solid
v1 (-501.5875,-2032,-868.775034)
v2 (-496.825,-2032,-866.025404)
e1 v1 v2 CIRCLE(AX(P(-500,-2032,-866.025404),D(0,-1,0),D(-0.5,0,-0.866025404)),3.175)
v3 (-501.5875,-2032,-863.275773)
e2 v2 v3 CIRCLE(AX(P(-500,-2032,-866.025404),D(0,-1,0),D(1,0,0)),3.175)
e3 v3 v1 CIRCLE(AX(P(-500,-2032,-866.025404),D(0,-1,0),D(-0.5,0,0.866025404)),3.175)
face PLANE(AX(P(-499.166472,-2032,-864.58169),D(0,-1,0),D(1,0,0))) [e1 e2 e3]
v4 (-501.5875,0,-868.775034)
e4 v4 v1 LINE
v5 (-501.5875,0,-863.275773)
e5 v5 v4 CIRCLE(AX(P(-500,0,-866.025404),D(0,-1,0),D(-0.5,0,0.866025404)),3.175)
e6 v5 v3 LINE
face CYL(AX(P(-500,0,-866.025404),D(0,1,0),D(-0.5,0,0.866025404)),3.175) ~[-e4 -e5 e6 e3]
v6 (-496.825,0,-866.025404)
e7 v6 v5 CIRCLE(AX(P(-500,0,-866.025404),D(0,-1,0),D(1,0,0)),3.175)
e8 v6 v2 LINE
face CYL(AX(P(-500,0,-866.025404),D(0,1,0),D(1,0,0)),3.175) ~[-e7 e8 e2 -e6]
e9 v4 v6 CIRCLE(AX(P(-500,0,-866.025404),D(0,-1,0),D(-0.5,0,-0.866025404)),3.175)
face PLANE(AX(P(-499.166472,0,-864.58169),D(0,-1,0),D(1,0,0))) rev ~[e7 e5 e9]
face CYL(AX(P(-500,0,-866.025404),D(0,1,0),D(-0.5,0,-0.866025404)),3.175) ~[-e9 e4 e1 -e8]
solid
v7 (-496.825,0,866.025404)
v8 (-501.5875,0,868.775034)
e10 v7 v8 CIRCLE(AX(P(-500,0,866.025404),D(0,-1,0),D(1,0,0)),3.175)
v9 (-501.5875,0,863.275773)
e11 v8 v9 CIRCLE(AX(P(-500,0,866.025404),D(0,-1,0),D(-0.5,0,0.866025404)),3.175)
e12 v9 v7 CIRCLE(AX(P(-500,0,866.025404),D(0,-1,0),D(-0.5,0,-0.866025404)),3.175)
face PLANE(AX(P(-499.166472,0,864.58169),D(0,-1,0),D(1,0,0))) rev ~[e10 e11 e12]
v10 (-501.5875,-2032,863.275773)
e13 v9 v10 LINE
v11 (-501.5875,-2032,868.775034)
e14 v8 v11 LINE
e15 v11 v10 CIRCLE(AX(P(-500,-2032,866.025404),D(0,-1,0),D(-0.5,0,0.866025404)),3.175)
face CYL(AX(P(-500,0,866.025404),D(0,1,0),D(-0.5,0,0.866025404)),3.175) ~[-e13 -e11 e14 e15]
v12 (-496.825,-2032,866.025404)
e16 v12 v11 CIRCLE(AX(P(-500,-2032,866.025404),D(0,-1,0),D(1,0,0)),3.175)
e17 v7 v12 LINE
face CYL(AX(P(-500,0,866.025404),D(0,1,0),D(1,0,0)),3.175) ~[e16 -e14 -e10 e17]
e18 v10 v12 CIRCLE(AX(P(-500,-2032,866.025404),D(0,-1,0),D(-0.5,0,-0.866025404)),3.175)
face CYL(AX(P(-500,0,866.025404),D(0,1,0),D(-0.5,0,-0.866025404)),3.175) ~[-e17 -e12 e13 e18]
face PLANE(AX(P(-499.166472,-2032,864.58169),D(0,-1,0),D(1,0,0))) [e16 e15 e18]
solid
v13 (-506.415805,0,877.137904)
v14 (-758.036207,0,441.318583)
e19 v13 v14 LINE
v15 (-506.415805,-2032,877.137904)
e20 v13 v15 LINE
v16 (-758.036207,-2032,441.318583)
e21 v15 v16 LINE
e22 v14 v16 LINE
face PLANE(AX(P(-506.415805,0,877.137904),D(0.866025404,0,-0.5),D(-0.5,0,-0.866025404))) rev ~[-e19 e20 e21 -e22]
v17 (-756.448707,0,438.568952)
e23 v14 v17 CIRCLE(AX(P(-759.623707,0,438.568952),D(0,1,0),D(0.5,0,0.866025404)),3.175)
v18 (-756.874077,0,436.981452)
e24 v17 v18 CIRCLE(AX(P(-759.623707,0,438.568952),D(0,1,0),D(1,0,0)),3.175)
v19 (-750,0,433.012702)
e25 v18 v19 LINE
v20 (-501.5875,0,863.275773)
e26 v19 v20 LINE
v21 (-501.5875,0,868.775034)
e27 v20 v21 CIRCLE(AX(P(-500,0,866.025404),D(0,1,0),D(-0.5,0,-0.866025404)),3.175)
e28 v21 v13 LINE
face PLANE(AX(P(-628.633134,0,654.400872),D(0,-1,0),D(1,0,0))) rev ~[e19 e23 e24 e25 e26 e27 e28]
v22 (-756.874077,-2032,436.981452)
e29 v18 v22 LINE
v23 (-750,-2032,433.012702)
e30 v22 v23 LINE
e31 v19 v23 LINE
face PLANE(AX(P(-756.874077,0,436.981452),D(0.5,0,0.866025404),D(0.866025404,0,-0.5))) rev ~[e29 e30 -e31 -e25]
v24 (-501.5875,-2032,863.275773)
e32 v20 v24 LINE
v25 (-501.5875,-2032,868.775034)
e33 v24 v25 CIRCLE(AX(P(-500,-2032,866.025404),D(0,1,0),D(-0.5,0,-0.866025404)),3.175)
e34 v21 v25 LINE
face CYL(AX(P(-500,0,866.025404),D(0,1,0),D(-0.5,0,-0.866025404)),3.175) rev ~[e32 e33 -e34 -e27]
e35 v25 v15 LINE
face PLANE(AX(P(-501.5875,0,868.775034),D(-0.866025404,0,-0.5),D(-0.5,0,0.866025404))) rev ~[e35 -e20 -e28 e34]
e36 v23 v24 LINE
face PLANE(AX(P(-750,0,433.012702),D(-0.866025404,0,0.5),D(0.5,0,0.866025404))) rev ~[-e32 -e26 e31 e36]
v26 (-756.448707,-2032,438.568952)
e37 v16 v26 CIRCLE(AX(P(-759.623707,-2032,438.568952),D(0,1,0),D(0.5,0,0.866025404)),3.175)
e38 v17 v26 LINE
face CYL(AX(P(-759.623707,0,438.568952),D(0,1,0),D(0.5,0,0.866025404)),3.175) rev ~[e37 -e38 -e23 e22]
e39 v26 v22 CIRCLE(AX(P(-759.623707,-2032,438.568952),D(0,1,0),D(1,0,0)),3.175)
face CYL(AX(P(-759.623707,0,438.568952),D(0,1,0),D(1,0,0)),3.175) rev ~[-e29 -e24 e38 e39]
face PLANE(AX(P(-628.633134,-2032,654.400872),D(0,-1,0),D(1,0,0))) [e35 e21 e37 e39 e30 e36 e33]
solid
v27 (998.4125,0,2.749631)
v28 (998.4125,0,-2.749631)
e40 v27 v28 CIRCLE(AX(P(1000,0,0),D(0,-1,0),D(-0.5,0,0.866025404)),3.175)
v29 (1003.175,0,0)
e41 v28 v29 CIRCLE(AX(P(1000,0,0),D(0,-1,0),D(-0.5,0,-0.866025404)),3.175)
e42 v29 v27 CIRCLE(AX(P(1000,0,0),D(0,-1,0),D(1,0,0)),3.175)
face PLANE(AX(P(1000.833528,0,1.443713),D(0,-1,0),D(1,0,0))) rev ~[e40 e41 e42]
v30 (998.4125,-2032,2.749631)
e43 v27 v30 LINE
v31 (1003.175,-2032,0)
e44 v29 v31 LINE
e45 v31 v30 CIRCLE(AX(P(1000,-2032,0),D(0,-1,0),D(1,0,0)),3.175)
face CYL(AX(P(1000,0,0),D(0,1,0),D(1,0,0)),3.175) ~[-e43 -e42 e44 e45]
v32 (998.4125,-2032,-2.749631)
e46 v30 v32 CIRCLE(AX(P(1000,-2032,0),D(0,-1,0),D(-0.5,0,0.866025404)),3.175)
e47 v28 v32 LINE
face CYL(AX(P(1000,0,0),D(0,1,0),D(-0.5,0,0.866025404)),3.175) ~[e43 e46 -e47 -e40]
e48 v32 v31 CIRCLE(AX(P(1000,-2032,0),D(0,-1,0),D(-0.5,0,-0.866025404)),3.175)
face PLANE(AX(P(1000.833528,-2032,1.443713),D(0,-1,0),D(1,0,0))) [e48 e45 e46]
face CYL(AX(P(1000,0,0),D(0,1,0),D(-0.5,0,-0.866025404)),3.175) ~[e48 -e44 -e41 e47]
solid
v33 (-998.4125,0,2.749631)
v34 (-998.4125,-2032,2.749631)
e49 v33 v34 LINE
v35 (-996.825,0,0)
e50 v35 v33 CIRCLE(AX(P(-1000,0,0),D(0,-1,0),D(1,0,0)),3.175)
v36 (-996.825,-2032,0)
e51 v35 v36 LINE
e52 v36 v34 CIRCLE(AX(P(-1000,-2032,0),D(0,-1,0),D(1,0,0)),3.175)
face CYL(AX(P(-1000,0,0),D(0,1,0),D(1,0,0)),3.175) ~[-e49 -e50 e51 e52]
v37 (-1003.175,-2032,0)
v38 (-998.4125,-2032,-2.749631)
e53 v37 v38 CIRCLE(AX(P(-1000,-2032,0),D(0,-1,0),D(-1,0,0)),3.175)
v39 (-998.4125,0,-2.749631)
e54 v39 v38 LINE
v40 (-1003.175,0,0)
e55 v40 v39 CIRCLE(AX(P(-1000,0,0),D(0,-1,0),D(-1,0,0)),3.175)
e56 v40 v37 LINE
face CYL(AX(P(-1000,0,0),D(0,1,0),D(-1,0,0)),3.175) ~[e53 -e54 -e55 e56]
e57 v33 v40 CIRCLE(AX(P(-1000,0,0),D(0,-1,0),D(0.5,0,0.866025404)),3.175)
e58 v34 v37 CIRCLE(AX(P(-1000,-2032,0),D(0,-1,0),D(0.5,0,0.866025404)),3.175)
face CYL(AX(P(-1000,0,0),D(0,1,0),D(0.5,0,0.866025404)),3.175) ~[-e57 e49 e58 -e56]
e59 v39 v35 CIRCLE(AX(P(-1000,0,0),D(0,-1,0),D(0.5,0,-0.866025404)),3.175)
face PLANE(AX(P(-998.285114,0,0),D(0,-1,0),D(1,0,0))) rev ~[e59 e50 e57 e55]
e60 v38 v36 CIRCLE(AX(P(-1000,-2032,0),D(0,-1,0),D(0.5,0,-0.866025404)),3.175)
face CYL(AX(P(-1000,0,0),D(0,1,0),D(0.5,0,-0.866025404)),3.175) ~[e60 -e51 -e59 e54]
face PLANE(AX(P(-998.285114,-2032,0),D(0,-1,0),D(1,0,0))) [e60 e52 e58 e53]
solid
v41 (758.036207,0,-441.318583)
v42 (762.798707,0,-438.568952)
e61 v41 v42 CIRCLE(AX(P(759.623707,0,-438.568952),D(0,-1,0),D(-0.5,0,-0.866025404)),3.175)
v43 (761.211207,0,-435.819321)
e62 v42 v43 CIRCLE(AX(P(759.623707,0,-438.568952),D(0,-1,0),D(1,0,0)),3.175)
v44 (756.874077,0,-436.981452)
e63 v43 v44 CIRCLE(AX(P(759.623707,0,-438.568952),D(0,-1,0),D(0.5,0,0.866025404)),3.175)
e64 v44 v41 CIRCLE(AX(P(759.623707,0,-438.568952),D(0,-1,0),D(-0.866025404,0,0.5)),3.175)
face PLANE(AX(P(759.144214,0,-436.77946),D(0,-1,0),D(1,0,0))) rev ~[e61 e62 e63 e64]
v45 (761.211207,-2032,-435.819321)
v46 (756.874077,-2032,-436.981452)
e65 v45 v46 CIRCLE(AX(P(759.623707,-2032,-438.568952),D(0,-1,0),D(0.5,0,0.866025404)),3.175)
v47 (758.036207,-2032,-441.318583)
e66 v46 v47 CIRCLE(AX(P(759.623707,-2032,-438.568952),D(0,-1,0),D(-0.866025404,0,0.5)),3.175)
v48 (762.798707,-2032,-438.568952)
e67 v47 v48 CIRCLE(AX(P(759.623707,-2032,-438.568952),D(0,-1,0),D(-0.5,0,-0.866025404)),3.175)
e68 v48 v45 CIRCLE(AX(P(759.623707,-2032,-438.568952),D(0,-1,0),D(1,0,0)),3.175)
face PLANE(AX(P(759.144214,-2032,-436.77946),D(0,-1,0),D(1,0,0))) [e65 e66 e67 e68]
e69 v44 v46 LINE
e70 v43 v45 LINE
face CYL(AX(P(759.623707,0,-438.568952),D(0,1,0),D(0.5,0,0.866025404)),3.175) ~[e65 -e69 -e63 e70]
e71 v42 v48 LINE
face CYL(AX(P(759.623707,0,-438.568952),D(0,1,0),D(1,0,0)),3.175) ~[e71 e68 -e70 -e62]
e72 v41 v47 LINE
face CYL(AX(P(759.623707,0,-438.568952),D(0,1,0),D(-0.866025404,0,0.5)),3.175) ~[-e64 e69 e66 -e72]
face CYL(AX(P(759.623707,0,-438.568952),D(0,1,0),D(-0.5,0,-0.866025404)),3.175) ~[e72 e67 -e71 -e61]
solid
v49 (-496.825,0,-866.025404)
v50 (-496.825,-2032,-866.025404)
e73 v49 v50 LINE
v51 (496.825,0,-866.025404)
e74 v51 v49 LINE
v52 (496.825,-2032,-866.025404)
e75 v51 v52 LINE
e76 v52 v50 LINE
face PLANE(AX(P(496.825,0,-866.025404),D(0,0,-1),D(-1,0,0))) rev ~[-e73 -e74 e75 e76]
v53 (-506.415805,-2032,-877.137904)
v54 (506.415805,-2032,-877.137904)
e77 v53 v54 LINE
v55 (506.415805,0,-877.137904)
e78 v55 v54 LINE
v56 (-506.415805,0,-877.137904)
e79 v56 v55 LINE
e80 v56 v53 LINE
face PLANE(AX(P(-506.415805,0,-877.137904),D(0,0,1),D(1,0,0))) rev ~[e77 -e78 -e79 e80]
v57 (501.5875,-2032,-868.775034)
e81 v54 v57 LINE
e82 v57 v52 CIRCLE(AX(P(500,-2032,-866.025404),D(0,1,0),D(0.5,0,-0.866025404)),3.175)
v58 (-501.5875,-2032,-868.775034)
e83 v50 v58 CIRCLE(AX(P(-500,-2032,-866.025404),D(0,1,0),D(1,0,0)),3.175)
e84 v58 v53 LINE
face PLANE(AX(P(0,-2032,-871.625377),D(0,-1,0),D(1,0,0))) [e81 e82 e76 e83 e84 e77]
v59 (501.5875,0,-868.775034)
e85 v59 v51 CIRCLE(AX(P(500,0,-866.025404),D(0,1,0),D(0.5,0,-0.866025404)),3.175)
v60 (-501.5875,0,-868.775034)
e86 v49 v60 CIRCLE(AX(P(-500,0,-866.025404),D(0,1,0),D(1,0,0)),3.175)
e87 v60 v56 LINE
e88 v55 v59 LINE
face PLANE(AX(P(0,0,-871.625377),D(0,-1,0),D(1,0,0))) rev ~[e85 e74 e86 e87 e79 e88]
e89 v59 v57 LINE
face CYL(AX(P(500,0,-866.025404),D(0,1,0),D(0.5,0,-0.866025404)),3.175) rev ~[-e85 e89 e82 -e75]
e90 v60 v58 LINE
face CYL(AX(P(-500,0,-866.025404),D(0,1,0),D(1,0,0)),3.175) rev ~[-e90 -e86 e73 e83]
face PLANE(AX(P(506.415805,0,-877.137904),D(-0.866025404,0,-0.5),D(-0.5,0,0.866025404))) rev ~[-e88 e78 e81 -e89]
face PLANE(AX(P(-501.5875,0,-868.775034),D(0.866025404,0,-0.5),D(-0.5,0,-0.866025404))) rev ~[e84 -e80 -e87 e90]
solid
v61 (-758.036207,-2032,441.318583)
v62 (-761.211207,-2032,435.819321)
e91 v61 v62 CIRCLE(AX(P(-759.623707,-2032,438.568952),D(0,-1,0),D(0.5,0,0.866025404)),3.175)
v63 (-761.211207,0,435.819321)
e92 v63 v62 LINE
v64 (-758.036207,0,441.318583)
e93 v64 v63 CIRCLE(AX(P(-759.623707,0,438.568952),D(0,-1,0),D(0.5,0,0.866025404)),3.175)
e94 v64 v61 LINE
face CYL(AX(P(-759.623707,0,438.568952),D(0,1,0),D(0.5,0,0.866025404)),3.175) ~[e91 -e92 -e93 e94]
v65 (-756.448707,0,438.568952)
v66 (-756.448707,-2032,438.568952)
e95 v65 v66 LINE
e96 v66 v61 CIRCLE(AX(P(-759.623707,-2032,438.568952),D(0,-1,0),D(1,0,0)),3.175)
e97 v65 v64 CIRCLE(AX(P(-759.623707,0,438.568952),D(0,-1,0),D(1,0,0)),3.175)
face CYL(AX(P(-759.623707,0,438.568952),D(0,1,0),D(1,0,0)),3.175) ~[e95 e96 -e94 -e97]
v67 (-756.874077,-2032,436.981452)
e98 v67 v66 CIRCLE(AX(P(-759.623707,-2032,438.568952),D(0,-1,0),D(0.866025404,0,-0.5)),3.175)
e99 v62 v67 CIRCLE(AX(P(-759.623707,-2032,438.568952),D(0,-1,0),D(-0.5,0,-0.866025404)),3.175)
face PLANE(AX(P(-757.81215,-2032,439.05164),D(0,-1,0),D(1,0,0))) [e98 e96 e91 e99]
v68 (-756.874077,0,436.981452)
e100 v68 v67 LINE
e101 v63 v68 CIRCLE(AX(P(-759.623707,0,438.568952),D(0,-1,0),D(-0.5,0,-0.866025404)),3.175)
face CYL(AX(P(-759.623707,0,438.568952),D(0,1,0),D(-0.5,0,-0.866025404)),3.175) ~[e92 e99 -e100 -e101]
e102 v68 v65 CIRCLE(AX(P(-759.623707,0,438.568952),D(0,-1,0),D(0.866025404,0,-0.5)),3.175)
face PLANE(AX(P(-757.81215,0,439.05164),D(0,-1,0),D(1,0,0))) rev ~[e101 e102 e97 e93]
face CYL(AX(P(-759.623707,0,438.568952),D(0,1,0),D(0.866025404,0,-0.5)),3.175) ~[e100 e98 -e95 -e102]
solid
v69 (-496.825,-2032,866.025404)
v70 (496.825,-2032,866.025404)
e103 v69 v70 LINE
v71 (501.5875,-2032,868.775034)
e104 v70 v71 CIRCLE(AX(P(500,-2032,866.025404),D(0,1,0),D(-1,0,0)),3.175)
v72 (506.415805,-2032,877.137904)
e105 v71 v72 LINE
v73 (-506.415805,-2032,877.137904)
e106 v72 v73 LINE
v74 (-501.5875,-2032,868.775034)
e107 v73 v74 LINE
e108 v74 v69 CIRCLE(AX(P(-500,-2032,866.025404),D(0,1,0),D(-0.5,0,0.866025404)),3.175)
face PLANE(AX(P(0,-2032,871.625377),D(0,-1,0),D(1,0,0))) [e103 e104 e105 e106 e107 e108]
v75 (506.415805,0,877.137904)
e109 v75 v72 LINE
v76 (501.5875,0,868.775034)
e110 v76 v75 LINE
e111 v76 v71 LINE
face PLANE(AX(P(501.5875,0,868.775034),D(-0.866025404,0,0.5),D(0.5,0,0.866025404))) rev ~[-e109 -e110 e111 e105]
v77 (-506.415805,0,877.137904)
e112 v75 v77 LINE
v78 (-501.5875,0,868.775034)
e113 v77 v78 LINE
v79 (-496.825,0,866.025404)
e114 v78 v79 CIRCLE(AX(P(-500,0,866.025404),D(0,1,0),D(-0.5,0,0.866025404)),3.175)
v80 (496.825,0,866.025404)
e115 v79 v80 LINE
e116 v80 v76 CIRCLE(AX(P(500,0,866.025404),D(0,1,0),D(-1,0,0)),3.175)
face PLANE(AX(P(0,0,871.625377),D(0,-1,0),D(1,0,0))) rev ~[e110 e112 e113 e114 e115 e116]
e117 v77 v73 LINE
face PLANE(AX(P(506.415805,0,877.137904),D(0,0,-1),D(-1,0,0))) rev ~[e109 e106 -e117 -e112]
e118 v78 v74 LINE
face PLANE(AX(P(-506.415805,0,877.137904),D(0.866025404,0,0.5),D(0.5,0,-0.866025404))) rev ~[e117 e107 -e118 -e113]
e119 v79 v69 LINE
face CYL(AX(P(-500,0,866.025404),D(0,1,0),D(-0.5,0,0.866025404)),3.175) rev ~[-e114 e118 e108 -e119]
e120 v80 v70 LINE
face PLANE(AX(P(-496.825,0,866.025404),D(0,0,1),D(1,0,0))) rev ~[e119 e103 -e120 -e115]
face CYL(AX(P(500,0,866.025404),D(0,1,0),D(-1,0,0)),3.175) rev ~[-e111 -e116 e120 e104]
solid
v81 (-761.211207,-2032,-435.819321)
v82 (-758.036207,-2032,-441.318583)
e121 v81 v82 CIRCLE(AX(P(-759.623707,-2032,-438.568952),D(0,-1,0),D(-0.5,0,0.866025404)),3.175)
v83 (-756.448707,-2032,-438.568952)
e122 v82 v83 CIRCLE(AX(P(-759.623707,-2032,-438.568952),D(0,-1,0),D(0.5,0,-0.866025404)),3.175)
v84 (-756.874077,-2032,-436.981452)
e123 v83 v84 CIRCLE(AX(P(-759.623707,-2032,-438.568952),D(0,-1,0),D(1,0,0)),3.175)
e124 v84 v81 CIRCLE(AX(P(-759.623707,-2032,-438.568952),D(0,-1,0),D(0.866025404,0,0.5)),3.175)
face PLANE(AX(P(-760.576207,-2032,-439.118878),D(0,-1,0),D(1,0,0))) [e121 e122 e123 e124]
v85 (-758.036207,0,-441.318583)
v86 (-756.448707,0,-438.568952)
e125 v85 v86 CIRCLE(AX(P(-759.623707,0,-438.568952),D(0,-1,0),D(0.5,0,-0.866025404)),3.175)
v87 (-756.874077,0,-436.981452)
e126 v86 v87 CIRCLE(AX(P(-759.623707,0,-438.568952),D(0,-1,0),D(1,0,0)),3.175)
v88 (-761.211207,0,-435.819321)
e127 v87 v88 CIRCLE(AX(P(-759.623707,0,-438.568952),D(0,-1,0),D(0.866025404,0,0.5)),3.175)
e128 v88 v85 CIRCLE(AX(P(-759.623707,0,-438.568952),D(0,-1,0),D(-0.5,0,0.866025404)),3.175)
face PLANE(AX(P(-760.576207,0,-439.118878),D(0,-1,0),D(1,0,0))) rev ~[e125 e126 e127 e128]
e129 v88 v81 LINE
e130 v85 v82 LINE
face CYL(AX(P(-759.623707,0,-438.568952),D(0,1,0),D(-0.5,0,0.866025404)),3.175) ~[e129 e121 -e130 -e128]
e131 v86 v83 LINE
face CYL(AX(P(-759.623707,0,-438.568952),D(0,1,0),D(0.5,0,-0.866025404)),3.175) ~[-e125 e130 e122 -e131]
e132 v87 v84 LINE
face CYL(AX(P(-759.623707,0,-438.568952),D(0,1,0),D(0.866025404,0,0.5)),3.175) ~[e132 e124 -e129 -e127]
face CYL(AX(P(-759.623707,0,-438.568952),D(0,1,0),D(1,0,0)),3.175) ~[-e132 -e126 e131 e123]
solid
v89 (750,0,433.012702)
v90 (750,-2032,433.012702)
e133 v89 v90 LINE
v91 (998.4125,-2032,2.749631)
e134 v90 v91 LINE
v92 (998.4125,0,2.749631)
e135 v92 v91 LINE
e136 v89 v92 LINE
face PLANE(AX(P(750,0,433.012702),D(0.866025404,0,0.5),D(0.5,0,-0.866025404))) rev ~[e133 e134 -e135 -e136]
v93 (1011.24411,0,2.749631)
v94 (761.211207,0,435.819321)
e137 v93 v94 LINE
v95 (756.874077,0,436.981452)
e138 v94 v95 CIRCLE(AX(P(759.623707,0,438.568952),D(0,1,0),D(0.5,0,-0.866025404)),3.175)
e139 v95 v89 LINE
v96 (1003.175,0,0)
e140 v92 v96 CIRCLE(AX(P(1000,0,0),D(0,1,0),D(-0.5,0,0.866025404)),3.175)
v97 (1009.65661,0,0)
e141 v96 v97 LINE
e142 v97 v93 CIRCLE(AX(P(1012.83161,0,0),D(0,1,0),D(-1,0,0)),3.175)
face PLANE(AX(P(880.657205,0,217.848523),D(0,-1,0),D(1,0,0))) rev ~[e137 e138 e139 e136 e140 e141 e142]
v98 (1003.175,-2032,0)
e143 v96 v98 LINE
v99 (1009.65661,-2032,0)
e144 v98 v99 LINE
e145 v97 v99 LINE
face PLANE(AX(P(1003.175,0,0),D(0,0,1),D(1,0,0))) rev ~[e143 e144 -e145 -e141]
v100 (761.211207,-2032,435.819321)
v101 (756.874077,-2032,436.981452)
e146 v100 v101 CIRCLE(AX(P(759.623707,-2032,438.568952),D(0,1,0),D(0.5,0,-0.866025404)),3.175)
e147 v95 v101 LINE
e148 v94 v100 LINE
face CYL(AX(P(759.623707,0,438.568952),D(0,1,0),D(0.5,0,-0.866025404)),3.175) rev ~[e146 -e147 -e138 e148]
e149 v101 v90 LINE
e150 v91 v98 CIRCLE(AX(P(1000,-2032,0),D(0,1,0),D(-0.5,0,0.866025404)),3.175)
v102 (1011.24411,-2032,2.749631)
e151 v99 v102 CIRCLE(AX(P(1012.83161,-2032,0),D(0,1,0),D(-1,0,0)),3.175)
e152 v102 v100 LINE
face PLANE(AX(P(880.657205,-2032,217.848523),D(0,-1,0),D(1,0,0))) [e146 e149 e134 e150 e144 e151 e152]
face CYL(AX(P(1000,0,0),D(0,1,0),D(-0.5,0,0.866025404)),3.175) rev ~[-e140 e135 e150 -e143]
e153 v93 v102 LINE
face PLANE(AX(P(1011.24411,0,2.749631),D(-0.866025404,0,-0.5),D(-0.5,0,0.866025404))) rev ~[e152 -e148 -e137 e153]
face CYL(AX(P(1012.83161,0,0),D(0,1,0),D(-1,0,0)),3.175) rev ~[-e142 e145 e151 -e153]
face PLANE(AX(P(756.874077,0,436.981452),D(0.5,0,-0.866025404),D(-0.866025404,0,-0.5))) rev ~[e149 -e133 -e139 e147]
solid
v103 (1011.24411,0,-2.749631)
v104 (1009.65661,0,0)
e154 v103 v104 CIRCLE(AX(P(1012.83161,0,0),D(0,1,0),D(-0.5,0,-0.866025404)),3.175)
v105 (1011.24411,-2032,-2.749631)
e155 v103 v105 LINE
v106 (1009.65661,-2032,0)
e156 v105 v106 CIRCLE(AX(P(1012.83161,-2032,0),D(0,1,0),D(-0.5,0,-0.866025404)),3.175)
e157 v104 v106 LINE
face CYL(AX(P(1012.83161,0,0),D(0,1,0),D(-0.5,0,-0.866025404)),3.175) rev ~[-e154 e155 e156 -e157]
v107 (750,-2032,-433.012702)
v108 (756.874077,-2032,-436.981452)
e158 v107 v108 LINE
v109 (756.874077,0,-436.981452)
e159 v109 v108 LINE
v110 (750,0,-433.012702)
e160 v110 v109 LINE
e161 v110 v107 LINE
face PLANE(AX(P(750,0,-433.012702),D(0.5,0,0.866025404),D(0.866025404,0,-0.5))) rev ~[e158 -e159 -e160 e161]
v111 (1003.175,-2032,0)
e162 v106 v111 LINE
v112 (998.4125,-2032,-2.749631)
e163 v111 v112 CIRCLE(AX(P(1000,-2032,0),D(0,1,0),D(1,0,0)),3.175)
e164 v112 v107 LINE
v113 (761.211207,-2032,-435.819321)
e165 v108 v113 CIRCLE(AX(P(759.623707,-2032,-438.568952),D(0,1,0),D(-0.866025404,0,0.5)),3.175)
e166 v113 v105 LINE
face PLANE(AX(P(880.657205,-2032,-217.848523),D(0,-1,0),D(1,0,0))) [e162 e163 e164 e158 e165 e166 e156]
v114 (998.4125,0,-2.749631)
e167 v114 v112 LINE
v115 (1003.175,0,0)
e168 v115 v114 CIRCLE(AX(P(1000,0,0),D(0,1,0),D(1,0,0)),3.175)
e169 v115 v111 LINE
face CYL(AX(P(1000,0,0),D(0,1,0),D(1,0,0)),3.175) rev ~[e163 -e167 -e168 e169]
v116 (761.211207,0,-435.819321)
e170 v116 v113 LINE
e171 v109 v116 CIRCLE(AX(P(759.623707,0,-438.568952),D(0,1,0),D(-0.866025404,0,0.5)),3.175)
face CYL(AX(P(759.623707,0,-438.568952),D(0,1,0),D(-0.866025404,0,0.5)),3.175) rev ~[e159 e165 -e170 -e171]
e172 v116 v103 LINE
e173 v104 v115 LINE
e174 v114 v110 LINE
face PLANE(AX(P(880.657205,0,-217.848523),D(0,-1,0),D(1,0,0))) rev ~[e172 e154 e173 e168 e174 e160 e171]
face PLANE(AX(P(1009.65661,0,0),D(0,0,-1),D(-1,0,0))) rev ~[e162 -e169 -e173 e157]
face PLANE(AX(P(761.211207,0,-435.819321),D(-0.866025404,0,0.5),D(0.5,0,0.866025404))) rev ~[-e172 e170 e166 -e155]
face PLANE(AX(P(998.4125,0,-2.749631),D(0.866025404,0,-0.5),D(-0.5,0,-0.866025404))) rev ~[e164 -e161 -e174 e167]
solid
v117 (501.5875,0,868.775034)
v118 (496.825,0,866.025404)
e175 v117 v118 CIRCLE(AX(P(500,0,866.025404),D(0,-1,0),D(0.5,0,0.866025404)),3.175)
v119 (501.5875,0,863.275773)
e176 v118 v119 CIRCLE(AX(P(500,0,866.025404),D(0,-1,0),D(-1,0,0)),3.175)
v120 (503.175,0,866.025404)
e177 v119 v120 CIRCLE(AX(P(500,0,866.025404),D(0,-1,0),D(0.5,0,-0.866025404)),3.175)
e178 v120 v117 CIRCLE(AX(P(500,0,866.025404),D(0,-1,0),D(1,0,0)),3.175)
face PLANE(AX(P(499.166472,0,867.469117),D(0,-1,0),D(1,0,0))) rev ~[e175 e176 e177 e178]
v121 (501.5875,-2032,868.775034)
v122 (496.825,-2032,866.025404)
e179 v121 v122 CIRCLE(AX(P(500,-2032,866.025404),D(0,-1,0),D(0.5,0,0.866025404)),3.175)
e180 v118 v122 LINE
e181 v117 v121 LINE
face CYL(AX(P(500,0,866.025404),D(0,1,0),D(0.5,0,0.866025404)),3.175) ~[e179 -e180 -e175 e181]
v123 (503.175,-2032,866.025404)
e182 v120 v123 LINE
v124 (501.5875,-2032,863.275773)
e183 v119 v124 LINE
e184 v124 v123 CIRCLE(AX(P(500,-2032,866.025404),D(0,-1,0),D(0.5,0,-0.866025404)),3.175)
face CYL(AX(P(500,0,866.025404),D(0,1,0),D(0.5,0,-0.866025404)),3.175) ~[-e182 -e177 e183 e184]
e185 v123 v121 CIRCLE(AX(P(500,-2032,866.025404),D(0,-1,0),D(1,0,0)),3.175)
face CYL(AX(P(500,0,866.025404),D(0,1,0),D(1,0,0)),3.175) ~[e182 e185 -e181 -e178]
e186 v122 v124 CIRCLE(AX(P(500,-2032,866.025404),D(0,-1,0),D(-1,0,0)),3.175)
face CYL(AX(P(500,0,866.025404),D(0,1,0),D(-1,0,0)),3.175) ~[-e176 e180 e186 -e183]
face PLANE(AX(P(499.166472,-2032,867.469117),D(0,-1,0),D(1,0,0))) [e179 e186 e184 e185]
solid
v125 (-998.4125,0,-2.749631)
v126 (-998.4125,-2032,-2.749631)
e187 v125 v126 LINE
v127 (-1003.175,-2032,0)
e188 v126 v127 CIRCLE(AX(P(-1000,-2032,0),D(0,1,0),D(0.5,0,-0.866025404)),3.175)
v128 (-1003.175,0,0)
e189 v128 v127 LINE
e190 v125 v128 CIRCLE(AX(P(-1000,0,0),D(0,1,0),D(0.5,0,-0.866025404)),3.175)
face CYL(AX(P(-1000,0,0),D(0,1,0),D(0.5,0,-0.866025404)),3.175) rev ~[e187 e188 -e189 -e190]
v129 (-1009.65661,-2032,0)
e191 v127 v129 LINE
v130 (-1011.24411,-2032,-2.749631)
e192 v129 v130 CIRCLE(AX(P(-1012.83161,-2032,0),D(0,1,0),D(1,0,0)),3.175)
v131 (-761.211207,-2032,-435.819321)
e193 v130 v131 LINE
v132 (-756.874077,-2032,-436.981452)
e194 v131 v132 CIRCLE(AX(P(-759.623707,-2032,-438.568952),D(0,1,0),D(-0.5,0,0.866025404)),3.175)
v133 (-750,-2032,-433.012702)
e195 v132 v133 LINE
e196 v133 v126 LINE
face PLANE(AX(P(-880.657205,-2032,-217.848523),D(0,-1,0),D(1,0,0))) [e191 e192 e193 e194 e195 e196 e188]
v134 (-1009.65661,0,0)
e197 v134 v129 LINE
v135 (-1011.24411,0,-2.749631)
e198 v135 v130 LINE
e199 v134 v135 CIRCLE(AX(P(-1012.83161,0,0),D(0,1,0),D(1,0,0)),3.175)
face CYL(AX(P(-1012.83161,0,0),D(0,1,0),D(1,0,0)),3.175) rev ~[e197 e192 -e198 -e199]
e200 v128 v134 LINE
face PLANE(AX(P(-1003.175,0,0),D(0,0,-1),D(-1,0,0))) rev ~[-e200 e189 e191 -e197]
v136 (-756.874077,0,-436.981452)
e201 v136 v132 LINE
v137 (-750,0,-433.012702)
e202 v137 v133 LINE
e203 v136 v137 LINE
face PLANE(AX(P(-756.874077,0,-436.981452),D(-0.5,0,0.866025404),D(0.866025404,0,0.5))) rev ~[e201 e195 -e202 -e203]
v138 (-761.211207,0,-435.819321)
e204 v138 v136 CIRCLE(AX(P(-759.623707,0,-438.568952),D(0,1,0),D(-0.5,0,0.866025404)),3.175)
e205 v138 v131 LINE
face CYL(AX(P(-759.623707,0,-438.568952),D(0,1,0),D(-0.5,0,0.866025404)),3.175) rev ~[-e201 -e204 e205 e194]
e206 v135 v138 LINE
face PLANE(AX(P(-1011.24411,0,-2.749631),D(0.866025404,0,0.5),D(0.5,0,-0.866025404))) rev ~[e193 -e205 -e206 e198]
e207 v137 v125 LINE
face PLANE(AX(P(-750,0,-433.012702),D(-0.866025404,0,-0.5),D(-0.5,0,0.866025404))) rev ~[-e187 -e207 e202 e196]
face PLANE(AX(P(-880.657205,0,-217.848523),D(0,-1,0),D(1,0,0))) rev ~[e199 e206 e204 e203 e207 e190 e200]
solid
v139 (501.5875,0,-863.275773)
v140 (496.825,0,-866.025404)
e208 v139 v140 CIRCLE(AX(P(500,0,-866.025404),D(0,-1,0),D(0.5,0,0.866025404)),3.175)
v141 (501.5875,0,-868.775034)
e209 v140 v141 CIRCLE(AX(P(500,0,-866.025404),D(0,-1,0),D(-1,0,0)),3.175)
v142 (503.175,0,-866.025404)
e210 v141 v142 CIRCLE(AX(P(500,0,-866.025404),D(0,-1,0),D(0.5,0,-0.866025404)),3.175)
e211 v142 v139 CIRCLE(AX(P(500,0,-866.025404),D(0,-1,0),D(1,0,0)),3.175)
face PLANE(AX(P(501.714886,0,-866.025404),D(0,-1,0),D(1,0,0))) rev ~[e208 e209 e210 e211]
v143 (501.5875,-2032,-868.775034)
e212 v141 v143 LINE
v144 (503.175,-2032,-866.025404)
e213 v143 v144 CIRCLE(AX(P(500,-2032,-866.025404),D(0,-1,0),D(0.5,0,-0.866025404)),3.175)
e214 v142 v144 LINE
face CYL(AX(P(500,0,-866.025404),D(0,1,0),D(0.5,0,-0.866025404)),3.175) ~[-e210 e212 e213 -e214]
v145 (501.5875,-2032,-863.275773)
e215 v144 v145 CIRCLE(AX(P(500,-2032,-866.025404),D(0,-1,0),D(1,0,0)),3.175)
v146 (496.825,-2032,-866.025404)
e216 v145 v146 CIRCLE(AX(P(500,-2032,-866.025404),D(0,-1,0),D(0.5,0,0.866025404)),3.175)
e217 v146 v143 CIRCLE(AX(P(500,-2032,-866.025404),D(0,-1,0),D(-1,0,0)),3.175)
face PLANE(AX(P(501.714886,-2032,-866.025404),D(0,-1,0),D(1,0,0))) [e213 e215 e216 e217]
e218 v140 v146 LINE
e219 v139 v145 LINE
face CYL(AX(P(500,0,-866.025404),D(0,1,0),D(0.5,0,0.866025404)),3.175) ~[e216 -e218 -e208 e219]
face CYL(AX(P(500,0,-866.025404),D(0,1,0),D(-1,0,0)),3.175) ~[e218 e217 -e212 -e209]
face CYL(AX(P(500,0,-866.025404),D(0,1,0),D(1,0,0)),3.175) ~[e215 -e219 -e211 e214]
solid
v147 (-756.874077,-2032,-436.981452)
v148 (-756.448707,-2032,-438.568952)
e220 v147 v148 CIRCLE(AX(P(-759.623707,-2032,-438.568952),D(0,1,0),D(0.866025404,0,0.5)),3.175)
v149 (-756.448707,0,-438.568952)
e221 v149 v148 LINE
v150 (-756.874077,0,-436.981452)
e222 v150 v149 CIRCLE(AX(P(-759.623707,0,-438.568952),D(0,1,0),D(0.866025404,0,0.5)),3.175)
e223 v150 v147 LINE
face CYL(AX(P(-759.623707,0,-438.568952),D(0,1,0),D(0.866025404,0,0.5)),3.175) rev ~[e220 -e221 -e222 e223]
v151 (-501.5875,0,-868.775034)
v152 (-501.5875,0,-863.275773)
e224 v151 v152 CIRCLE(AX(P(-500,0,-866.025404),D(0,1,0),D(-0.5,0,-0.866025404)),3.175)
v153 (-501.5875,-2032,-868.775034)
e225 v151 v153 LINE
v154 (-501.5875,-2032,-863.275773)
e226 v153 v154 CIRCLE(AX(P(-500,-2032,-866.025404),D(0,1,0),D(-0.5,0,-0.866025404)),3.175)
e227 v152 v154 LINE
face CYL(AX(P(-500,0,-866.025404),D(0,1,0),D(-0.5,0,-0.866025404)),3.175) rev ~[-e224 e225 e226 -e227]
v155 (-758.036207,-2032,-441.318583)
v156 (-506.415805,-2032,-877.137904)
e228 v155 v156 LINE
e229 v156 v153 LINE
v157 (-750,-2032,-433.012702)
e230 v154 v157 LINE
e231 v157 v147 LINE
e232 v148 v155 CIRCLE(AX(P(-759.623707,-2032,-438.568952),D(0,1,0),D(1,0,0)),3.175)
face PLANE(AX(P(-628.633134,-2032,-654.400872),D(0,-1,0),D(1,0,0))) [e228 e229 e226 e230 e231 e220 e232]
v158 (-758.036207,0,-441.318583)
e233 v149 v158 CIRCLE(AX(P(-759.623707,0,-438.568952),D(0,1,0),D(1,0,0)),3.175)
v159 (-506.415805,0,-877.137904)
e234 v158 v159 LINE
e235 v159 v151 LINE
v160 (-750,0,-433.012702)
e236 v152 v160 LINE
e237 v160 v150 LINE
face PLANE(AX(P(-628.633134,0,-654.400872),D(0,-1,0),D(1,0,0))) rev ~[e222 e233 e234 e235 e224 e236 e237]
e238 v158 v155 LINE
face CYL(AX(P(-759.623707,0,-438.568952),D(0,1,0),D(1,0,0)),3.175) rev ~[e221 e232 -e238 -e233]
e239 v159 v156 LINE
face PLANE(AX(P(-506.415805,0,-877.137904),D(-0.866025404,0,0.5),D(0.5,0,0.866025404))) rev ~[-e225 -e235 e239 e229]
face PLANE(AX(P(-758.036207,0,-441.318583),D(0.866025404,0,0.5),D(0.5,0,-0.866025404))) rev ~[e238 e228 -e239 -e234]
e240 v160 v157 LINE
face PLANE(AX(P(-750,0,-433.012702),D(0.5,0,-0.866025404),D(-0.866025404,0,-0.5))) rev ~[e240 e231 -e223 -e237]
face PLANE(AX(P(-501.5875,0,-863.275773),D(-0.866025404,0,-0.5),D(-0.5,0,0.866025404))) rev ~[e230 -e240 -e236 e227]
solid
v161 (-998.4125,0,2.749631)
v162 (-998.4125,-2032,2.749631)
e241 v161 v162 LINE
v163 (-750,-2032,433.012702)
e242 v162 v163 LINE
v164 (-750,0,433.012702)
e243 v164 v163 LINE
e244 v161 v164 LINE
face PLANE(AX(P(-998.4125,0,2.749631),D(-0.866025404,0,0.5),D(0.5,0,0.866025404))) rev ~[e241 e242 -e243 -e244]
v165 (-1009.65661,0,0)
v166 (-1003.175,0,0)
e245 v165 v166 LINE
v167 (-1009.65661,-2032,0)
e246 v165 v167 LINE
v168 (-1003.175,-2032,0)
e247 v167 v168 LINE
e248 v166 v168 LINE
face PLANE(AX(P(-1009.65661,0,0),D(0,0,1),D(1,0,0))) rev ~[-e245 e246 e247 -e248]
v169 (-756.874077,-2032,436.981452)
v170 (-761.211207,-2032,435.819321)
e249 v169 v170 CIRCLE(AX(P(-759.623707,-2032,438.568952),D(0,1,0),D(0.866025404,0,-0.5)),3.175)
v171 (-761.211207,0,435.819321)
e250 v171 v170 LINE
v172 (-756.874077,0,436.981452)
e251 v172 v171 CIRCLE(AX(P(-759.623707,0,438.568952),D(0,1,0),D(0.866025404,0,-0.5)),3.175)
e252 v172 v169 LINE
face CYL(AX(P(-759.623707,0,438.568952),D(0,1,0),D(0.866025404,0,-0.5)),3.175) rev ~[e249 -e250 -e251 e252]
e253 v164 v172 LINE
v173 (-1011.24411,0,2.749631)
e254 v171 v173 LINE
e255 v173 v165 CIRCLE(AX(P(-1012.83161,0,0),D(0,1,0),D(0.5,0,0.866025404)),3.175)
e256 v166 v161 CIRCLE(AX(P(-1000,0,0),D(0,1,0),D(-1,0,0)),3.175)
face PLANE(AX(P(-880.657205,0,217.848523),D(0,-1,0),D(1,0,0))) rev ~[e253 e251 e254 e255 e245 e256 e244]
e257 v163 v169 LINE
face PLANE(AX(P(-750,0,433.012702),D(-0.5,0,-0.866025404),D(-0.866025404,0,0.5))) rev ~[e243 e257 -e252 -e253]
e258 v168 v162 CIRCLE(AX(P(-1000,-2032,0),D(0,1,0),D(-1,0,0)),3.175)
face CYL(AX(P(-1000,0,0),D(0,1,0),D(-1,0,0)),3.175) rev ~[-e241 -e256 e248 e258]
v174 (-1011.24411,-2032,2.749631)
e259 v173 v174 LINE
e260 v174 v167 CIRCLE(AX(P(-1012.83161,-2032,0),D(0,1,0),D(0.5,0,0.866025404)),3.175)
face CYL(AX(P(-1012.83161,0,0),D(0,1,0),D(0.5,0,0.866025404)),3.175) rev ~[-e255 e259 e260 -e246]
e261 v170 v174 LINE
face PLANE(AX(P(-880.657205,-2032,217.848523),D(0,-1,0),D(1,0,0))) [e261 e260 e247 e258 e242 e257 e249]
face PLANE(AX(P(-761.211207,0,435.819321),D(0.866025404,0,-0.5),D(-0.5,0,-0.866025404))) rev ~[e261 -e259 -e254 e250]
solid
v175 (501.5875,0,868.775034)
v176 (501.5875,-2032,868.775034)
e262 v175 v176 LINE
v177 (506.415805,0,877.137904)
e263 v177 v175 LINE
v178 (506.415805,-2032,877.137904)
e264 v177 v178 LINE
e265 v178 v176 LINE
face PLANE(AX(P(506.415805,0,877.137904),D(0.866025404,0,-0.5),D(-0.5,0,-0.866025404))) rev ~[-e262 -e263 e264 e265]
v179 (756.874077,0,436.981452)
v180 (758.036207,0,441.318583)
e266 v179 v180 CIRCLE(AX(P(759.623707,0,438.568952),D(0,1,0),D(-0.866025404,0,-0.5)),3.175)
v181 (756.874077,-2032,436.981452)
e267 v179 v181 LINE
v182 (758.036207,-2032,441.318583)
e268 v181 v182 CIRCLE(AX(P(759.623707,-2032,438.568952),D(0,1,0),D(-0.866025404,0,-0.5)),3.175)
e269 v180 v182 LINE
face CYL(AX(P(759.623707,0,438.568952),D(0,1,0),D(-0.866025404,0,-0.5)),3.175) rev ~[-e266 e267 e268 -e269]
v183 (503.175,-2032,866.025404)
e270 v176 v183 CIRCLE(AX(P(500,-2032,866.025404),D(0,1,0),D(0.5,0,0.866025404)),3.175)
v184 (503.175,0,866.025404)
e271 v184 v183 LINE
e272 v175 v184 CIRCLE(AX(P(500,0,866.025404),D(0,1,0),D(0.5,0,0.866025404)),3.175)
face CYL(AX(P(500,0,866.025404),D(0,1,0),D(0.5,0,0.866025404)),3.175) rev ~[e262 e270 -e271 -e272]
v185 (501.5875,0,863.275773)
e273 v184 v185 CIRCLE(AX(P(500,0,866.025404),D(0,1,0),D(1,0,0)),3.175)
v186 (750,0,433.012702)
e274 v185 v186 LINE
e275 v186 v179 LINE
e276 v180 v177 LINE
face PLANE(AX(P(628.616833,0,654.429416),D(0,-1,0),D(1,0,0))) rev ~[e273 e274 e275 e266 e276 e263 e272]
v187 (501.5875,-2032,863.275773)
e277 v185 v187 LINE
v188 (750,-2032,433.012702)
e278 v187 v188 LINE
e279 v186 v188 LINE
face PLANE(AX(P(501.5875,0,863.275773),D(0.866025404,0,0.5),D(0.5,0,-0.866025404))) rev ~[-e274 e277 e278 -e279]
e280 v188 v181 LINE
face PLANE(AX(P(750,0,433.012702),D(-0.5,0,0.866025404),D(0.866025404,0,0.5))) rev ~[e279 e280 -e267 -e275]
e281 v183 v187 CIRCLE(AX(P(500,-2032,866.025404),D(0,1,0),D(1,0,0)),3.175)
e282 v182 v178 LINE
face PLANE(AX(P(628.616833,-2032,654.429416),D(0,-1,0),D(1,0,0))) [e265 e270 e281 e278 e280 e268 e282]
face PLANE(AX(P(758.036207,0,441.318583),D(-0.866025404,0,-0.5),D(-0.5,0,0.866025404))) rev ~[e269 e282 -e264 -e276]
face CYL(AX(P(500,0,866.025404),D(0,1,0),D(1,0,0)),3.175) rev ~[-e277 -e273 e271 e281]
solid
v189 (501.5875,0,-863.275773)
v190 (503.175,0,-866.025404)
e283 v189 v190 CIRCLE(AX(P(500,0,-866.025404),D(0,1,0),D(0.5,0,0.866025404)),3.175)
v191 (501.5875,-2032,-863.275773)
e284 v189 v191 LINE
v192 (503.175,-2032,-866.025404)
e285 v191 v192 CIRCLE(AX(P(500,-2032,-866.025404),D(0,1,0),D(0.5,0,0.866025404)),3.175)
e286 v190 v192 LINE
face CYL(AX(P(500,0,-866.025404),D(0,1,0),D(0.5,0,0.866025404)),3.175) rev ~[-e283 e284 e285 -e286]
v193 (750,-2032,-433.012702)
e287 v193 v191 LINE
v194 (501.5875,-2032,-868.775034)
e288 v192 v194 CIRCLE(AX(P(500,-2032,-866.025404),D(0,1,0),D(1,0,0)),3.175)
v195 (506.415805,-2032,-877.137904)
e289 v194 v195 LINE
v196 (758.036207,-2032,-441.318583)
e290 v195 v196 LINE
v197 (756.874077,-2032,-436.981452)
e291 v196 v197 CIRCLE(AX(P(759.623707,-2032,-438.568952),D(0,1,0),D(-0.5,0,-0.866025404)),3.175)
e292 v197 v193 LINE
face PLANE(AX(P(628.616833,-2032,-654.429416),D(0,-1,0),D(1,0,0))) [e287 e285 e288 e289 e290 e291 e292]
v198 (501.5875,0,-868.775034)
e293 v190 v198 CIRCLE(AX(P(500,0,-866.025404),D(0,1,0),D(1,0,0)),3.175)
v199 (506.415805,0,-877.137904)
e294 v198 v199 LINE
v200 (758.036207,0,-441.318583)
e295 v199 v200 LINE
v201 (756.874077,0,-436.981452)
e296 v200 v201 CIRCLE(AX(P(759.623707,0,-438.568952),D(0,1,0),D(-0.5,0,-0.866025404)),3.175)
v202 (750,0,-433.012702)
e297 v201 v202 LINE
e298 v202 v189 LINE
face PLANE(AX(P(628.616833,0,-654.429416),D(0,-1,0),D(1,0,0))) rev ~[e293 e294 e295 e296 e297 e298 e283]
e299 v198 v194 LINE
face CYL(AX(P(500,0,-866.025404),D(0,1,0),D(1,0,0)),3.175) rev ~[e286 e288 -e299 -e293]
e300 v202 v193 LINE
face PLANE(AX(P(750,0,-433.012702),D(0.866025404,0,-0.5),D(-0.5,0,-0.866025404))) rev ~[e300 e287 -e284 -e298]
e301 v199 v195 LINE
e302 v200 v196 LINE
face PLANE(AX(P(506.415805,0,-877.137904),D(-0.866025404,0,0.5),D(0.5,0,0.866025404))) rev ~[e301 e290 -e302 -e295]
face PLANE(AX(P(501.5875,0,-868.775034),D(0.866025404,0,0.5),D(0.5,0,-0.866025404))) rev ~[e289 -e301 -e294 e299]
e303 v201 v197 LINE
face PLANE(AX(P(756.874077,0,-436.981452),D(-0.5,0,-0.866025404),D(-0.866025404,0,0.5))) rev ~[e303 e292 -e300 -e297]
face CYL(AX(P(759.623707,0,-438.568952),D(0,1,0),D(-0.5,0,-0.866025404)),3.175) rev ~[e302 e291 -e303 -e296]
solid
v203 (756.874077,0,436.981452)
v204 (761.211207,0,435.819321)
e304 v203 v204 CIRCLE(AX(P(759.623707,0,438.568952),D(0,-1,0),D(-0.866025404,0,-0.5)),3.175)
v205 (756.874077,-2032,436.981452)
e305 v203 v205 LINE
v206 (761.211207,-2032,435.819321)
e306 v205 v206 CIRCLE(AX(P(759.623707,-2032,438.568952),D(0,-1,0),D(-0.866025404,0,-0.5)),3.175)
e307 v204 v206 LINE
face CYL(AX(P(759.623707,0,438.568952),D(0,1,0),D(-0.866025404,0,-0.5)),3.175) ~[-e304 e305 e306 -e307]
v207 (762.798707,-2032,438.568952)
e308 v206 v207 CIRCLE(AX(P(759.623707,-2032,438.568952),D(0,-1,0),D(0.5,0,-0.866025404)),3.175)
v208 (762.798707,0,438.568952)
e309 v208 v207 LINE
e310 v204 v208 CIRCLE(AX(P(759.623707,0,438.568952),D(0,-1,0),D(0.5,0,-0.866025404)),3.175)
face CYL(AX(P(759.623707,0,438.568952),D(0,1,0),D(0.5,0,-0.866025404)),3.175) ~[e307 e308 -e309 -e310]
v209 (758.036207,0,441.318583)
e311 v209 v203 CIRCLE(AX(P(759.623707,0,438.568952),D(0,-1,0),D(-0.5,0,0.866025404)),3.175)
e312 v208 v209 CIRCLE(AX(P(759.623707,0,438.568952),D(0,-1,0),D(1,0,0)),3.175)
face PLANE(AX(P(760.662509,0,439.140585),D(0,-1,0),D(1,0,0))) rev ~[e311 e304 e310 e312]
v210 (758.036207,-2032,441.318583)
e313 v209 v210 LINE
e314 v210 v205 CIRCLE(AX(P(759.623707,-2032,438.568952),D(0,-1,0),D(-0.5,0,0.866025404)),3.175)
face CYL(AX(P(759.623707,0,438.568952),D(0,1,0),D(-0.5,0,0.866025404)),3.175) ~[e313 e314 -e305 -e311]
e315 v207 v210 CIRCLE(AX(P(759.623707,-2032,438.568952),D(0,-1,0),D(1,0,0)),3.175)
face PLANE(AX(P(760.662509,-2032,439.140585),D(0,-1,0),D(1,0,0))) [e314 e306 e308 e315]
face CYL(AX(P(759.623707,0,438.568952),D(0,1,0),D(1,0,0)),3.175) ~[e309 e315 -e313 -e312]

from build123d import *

# Parameters (mm, degrees)
F1_DEPTH = 2032
F2_DEPTH = 2032
F3_DEPTH = 2032


with BuildPart() as f1:
    # F0 (on Front) → F1 (new body)
    with BuildSketch(Plane.XZ):
        with BuildLine():
            Line((496.825, -866.0254037844), (-496.825, -866.0254037844))
            ThreePointArc((-496.825, -866.0254037844), (-498.4125, -868.7750344415), (-501.5875, -868.7750344415))
            Line((-501.5875, -868.7750344415), (-506.4158048664, -877.1379037844))
            Line((-506.4158048664, -877.1379037844), (506.4158048664, -877.1379037844))
            Line((506.4158048664, -877.1379037844), (501.5875, -868.7750344415))
            ThreePointArc((501.5875, -868.7750344415), (498.4125, -868.7750344415), (496.825, -866.0254037844))
        make_face()
    extrude(amount=F1_DEPTH)


with BuildPart() as f1b:
    # F0 (on Front) → F1, piece 2 (new body)
    with BuildSketch(Plane.XZ):
        with BuildLine():
            Line((998.4125, -2.749630657), (750, -433.0127018922))
            Line((750, -433.0127018922), (756.8740766425, -436.9814518922))
            ThreePointArc((756.8740766425, -436.9814518922), (758.8019568314, -435.5021373938), (761.2112072996, -435.8193212352))
            Line((761.2112072996, -435.8193212352), (1011.2441097327, -2.749630657))
            ThreePointArc((1011.2441097327, -2.749630657), (1010.0819790757, -1.5875), (1009.6566097327, 0))
            Line((1009.6566097327, 0), (1003.175, 0))
            ThreePointArc((1003.175, 0), (1001.5875, -2.749630657), (998.4125, -2.749630657))
        make_face()
    extrude(amount=F1_DEPTH)


with BuildPart() as f1c:
    # F0 (on Front) → F1, piece 3 (new body)
    with BuildSketch(Plane.XZ):
        with BuildLine():
            Line((501.5875, 863.2757731274), (750, 433.0127018922))
            Line((750, 433.0127018922), (756.8740766425, 436.9814518922))
            ThreePointArc((756.8740766425, 436.9814518922), (756.5568928011, 439.3907023604), (758.0362072996, 441.3185825492))
            Line((758.0362072996, 441.3185825492), (506.4158048664, 877.1379037844))
            Line((506.4158048664, 877.1379037844), (501.5875, 868.7750344415))
            ThreePointArc((501.5875, 868.7750344415), (502.749630657, 867.6129037844), (503.175, 866.0254037844))
            ThreePointArc((503.175, 866.0254037844), (502.749630657, 864.4379037844), (501.5875, 863.2757731274))
        make_face()
    extrude(amount=F1_DEPTH)


with BuildPart() as f1d:
    # F0 (on Front) → F1, piece 4 (new body)
    with BuildSketch(Plane.XZ):
        with BuildLine():
            Line((-756.8740766425, -436.9814518922), (-750, -433.0127018922))
            Line((-750, -433.0127018922), (-998.4125, -2.749630657))
            ThreePointArc((-998.4125, -2.749630657), (-1001.5875, -2.749630657), (-1003.175, 0))
            Line((-1003.175, 0), (-1009.6566097327, 0))
            ThreePointArc((-1009.6566097327, 0), (-1010.0819790757, -1.5875), (-1011.2441097327, -2.749630657))
            Line((-1011.2441097327, -2.749630657), (-761.2112072996, -435.8193212352))
            ThreePointArc((-761.2112072996, -435.8193212352), (-758.8019568314, -435.5021373938), (-756.8740766425, -436.9814518922))
        make_face()
    extrude(amount=F1_DEPTH)


with BuildPart() as f1e:
    # F0 (on Front) → F1, piece 5 (new body)
    with BuildSketch(Plane.XZ):
        with BuildLine():
            Line((-756.8740766425, 436.9814518922), (-750, 433.0127018922))
            Line((-750, 433.0127018922), (-501.5875, 863.2757731274))
            ThreePointArc((-501.5875, 863.2757731274), (-503.175, 866.0254037844), (-501.5875, 868.7750344415))
            Line((-501.5875, 868.7750344415), (-506.4158048664, 877.1379037844))
            Line((-506.4158048664, 877.1379037844), (-758.0362072996, 441.3185825492))
            ThreePointArc((-758.0362072996, 441.3185825492), (-756.8740766425, 440.1564518922), (-756.4487072996, 438.5689518922))
            ThreePointArc((-756.4487072996, 438.5689518922), (-756.5568928011, 437.747201424), (-756.8740766425, 436.9814518922))
        make_face()
    extrude(amount=F1_DEPTH)


with BuildPart() as f2:
    # F0 (on Front) → F2 (new body)
    with BuildSketch(Plane.XZ):
        with BuildLine():
            Line((750, 433.0127018922), (998.4125, 2.749630657))
            ThreePointArc((998.4125, 2.749630657), (1001.5875, 2.749630657), (1003.175, 0))
            Line((1003.175, 0), (1009.6566097327, 0))
            ThreePointArc((1009.6566097327, 0), (1010.0819790757, 1.5875), (1011.2441097327, 2.749630657))
            Line((1011.2441097327, 2.749630657), (761.2112072996, 435.8193212352))
            ThreePointArc((761.2112072996, 435.8193212352), (758.8019568314, 435.5021373938), (756.8740766425, 436.9814518922))
            Line((756.8740766425, 436.9814518922), (750, 433.0127018922))
        make_face()
    extrude(amount=F2_DEPTH)


with BuildPart() as f2b:
    # F0 (on Front) → F2, piece 2 (new body)
    with BuildSketch(Plane.XZ):
        with BuildLine():
            Line((-496.825, 866.0254037844), (496.825, 866.0254037844))
            ThreePointArc((496.825, 866.0254037844), (498.4125, 868.7750344415), (501.5875, 868.7750344415))
            Line((501.5875, 868.7750344415), (506.4158048664, 877.1379037844))
            Line((506.4158048664, 877.1379037844), (-506.4158048664, 877.1379037844))
            Line((-506.4158048664, 877.1379037844), (-501.5875, 868.7750344415))
            ThreePointArc((-501.5875, 868.7750344415), (-498.4125, 868.7750344415), (-496.825, 866.0254037844))
        make_face()
    extrude(amount=F2_DEPTH)


with BuildPart() as f2c:
    # F0 (on Front) → F2, piece 3 (new body)
    with BuildSketch(Plane.XZ):
        with BuildLine():
            Line((-1009.6566097327, 0), (-1003.175, 0))
            ThreePointArc((-1003.175, 0), (-1001.5875, 2.749630657), (-998.4125, 2.749630657))
            Line((-998.4125, 2.749630657), (-750, 433.0127018922))
            Line((-750, 433.0127018922), (-756.8740766425, 436.9814518922))
            ThreePointArc((-756.8740766425, 436.9814518922), (-758.8019568314, 435.5021373938), (-761.2112072996, 435.8193212352))
            Line((-761.2112072996, 435.8193212352), (-1011.2441097327, 2.749630657))
            ThreePointArc((-1011.2441097327, 2.749630657), (-1010.0819790757, 1.5875), (-1009.6566097327, 0))
        make_face()
    extrude(amount=F2_DEPTH)


with BuildPart() as f2d:
    # F0 (on Front) → F2, piece 4 (new body)
    with BuildSketch(Plane.XZ):
        with BuildLine():
            ThreePointArc((-501.5875, -868.7750344415), (-503.175, -866.0254037844), (-501.5875, -863.2757731274))
            Line((-501.5875, -863.2757731274), (-750, -433.0127018922))
            Line((-750, -433.0127018922), (-756.8740766425, -436.9814518922))
            ThreePointArc((-756.8740766425, -436.9814518922), (-756.5568928011, -437.747201424), (-756.4487072996, -438.5689518922))
            ThreePointArc((-756.4487072996, -438.5689518922), (-756.8740766425, -440.1564518922), (-758.0362072996, -441.3185825492))
            Line((-758.0362072996, -441.3185825492), (-506.4158048664, -877.1379037844))
            Line((-506.4158048664, -877.1379037844), (-501.5875, -868.7750344415))
        make_face()
    extrude(amount=F2_DEPTH)


with BuildPart() as f2e:
    # F0 (on Front) → F2, piece 5 (new body)
    with BuildSketch(Plane.XZ):
        with BuildLine():
            Line((750, -433.0127018922), (501.5875, -863.2757731274))
            ThreePointArc((501.5875, -863.2757731274), (502.749630657, -864.4379037844), (503.175, -866.0254037844))
            ThreePointArc((503.175, -866.0254037844), (502.749630657, -867.6129037844), (501.5875, -868.7750344415))
            Line((501.5875, -868.7750344415), (506.4158048664, -877.1379037844))
            Line((506.4158048664, -877.1379037844), (758.0362072996, -441.3185825492))
            ThreePointArc((758.0362072996, -441.3185825492), (756.5568928011, -439.3907023604), (756.8740766425, -436.9814518922))
            Line((756.8740766425, -436.9814518922), (750, -433.0127018922))
        make_face()
    extrude(amount=F2_DEPTH)


with BuildPart() as f3:
    # F0 (on Front) → F3 (new body)
    with BuildSketch(Plane.XZ):
        with BuildLine():
            ThreePointArc((-761.2112072996, -435.8193212352), (-762.3733379566, -440.1564518922), (-758.0362072996, -441.3185825492))
            Line((-758.0362072996, -441.3185825492), (-759.6237072996, -438.5689518922))
            Line((-759.6237072996, -438.5689518922), (-761.2112072996, -435.8193212352))
        make_face()
        with BuildLine():
            Line((-759.6237072996, -438.5689518922), (-756.8740766425, -436.9814518922))
            ThreePointArc((-756.8740766425, -436.9814518922), (-758.8019568314, -435.5021373938), (-761.2112072996, -435.8193212352))
            Line((-761.2112072996, -435.8193212352), (-759.6237072996, -438.5689518922))
        make_face()
        with BuildLine():
            ThreePointArc((-756.4487072996, -438.5689518922), (-756.5568928011, -437.747201424), (-756.8740766425, -436.9814518922))
            Line((-756.8740766425, -436.9814518922), (-759.6237072996, -438.5689518922))
            Line((-759.6237072996, -438.5689518922), (-758.0362072996, -441.3185825492))
            ThreePointArc((-758.0362072996, -441.3185825492), (-756.8740766425, -440.1564518922), (-756.4487072996, -438.5689518922))
        make_face()
    extrude(amount=F3_DEPTH)


with BuildPart() as f3b:
    # F0 (on Front) → F3, piece 2 (new body)
    with BuildSketch(Plane.XZ):
        with BuildLine():
            Line((-500, -866.0254037844), (-496.825, -866.0254037844))
            ThreePointArc((-496.825, -866.0254037844), (-498.4125, -863.2757731274), (-501.5875, -863.2757731274))
            Line((-501.5875, -863.2757731274), (-500, -866.0254037844))
        make_face()
        with BuildLine():
            ThreePointArc((-501.5875, -868.7750344415), (-498.4125, -868.7750344415), (-496.825, -866.0254037844))
            Line((-496.825, -866.0254037844), (-500, -866.0254037844))
            Line((-500, -866.0254037844), (-501.5875, -868.7750344415))
        make_face()
        with BuildLine():
            Line((-501.5875, -868.7750344415), (-500, -866.0254037844))
            Line((-500, -866.0254037844), (-501.5875, -863.2757731274))
            ThreePointArc((-501.5875, -863.2757731274), (-503.175, -866.0254037844), (-501.5875, -868.7750344415))
        make_face()
    extrude(amount=F3_DEPTH)


with BuildPart() as f3c:
    # F0 (on Front) → F3, piece 3 (new body)
    with BuildSketch(Plane.XZ):
        with BuildLine():
            Line((501.5875, -863.2757731274), (500, -866.0254037844))
            Line((500, -866.0254037844), (501.5875, -868.7750344415))
            ThreePointArc((501.5875, -868.7750344415), (502.749630657, -867.6129037844), (503.175, -866.0254037844))
            ThreePointArc((503.175, -866.0254037844), (502.749630657, -864.4379037844), (501.5875, -863.2757731274))
        make_face()
        with BuildLine():
            ThreePointArc((501.5875, -863.2757731274), (498.4125, -863.2757731274), (496.825, -866.0254037844))
            Line((496.825, -866.0254037844), (500, -866.0254037844))
            Line((500, -866.0254037844), (501.5875, -863.2757731274))
        make_face()
        with BuildLine():
            Line((500, -866.0254037844), (496.825, -866.0254037844))
            ThreePointArc((496.825, -866.0254037844), (498.4125, -868.7750344415), (501.5875, -868.7750344415))
            Line((501.5875, -868.7750344415), (500, -866.0254037844))
        make_face()
    extrude(amount=F3_DEPTH)


with BuildPart() as f3d:
    # F0 (on Front) → F3, piece 4 (new body)
    with BuildSketch(Plane.XZ):
        with BuildLine():
            ThreePointArc((761.2112072996, -435.8193212352), (758.8019568314, -435.5021373938), (756.8740766425, -436.9814518922))
            Line((756.8740766425, -436.9814518922), (759.6237072996, -438.5689518922))
            Line((759.6237072996, -438.5689518922), (761.2112072996, -435.8193212352))
        make_face()
        with BuildLine():
            Line((759.6237072996, -438.5689518922), (756.8740766425, -436.9814518922))
            ThreePointArc((756.8740766425, -436.9814518922), (756.5568928011, -439.3907023604), (758.0362072996, -441.3185825492))
            Line((758.0362072996, -441.3185825492), (759.6237072996, -438.5689518922))
        make_face()
        with BuildLine():
            Line((759.6237072996, -438.5689518922), (758.0362072996, -441.3185825492))
            ThreePointArc((758.0362072996, -441.3185825492), (761.2112072996, -441.3185825492), (762.7987072996, -438.5689518922))
            ThreePointArc((762.7987072996, -438.5689518922), (762.3733379566, -436.9814518922), (761.2112072996, -435.8193212352))
            Line((761.2112072996, -435.8193212352), (759.6237072996, -438.5689518922))
        make_face()
    extrude(amount=F3_DEPTH)


with BuildPart() as f3e:
    # F0 (on Front) → F3, piece 5 (new body)
    with BuildSketch(Plane.XZ):
        with BuildLine():
            Line((998.4125, 2.749630657), (1000, 0))
            Line((1000, 0), (1003.175, 0))
            ThreePointArc((1003.175, 0), (1001.5875, 2.749630657), (998.4125, 2.749630657))
        make_face()
        with BuildLine():
            Line((1000, 0), (998.4125, -2.749630657))
            ThreePointArc((998.4125, -2.749630657), (1001.5875, -2.749630657), (1003.175, 0))
            Line((1003.175, 0), (1000, 0))
        make_face()
        with BuildLine():
            ThreePointArc((998.4125, 2.749630657), (996.825, 0), (998.4125, -2.749630657))
            Line((998.4125, -2.749630657), (1000, 0))
            Line((1000, 0), (998.4125, 2.749630657))
        make_face()
    extrude(amount=F3_DEPTH)


with BuildPart() as f3f:
    # F0 (on Front) → F3, piece 6 (new body)
    with BuildSketch(Plane.XZ):
        with BuildLine():
            Line((758.0362072996, 441.3185825492), (759.6237072996, 438.5689518922))
            Line((759.6237072996, 438.5689518922), (761.2112072996, 435.8193212352))
            ThreePointArc((761.2112072996, 435.8193212352), (762.3733379566, 436.9814518922), (762.7987072996, 438.5689518922))
            ThreePointArc((762.7987072996, 438.5689518922), (761.2112072996, 441.3185825492), (758.0362072996, 441.3185825492))
        make_face()
        with BuildLine():
            Line((759.6237072996, 438.5689518922), (756.8740766425, 436.9814518922))
            ThreePointArc((756.8740766425, 436.9814518922), (758.8019568314, 435.5021373938), (761.2112072996, 435.8193212352))
            Line((761.2112072996, 435.8193212352), (759.6237072996, 438.5689518922))
        make_face()
        with BuildLine():
            ThreePointArc((758.0362072996, 441.3185825492), (756.5568928011, 439.3907023604), (756.8740766425, 436.9814518922))
            Line((756.8740766425, 436.9814518922), (759.6237072996, 438.5689518922))
            Line((759.6237072996, 438.5689518922), (758.0362072996, 441.3185825492))
        make_face()
    extrude(amount=F3_DEPTH)


with BuildPart() as f3g:
    # F0 (on Front) → F3, piece 7 (new body)
    with BuildSketch(Plane.XZ):
        with BuildLine():
            Line((496.825, 866.0254037844), (500, 866.0254037844))
            Line((500, 866.0254037844), (501.5875, 868.7750344415))
            ThreePointArc((501.5875, 868.7750344415), (498.4125, 868.7750344415), (496.825, 866.0254037844))
        make_face()
        with BuildLine():
            ThreePointArc((496.825, 866.0254037844), (498.4125, 863.2757731274), (501.5875, 863.2757731274))
            Line((501.5875, 863.2757731274), (500, 866.0254037844))
            Line((500, 866.0254037844), (496.825, 866.0254037844))
        make_face()
        with BuildLine():
            Line((500, 866.0254037844), (501.5875, 863.2757731274))
            ThreePointArc((501.5875, 863.2757731274), (502.749630657, 864.4379037844), (503.175, 866.0254037844))
            ThreePointArc((503.175, 866.0254037844), (502.749630657, 867.6129037844), (501.5875, 868.7750344415))
            Line((501.5875, 868.7750344415), (500, 866.0254037844))
        make_face()
    extrude(amount=F3_DEPTH)


with BuildPart() as f3h:
    # F0 (on Front) → F3, piece 8 (new body)
    with BuildSketch(Plane.XZ):
        with BuildLine():
            Line((-500, 866.0254037844), (-501.5875, 863.2757731274))
            ThreePointArc((-501.5875, 863.2757731274), (-498.4125, 863.2757731274), (-496.825, 866.0254037844))
            Line((-496.825, 866.0254037844), (-500, 866.0254037844))
        make_face()
        with BuildLine():
            Line((-501.5875, 868.7750344415), (-500, 866.0254037844))
            Line((-500, 866.0254037844), (-496.825, 866.0254037844))
            ThreePointArc((-496.825, 866.0254037844), (-498.4125, 868.7750344415), (-501.5875, 868.7750344415))
        make_face()
        with BuildLine():
            ThreePointArc((-501.5875, 868.7750344415), (-503.175, 866.0254037844), (-501.5875, 863.2757731274))
            Line((-501.5875, 863.2757731274), (-500, 866.0254037844))
            Line((-500, 866.0254037844), (-501.5875, 868.7750344415))
        make_face()
    extrude(amount=F3_DEPTH)


with BuildPart() as f3i:
    # F0 (on Front) → F3, piece 9 (new body)
    with BuildSketch(Plane.XZ):
        with BuildLine():
            Line((-759.6237072996, 438.5689518922), (-756.8740766425, 436.9814518922))
            ThreePointArc((-756.8740766425, 436.9814518922), (-756.5568928011, 437.747201424), (-756.4487072996, 438.5689518922))
            ThreePointArc((-756.4487072996, 438.5689518922), (-756.8740766425, 440.1564518922), (-758.0362072996, 441.3185825492))
            Line((-758.0362072996, 441.3185825492), (-759.6237072996, 438.5689518922))
        make_face()
        with BuildLine():
            ThreePointArc((-758.0362072996, 441.3185825492), (-762.3733379566, 440.1564518922), (-761.2112072996, 435.8193212352))
            Line((-761.2112072996, 435.8193212352), (-759.6237072996, 438.5689518922))
            Line((-759.6237072996, 438.5689518922), (-758.0362072996, 441.3185825492))
        make_face()
        with BuildLine():
            ThreePointArc((-761.2112072996, 435.8193212352), (-758.8019568314, 435.5021373938), (-756.8740766425, 436.9814518922))
            Line((-756.8740766425, 436.9814518922), (-759.6237072996, 438.5689518922))
            Line((-759.6237072996, 438.5689518922), (-761.2112072996, 435.8193212352))
        make_face()
    extrude(amount=F3_DEPTH)


with BuildPart() as f3j:
    # F0 (on Front) → F3, piece 10 (new body)
    with BuildSketch(Plane.XZ):
        with BuildLine():
            Line((-1000, 0), (-998.4125, -2.749630657))
            ThreePointArc((-998.4125, -2.749630657), (-997.250369343, -1.5875), (-996.825, 0))
            ThreePointArc((-996.825, 0), (-997.250369343, 1.5875), (-998.4125, 2.749630657))
            Line((-998.4125, 2.749630657), (-1000, 0))
        make_face()
        with BuildLine():
            Line((-1003.175, 0), (-1000, 0))
            Line((-1000, 0), (-998.4125, 2.749630657))
            ThreePointArc((-998.4125, 2.749630657), (-1001.5875, 2.749630657), (-1003.175, 0))
        make_face()
        with BuildLine():
            ThreePointArc((-1003.175, 0), (-1001.5875, -2.749630657), (-998.4125, -2.749630657))
            Line((-998.4125, -2.749630657), (-1000, 0))
            Line((-1000, 0), (-1003.175, 0))
        make_face()
    extrude(amount=F3_DEPTH)


solid = Compound([f1.part, f1b.part, f1c.part, f1d.part, f1e.part, f2.part, f2b.part, f2c.part, f2d.part, f2e.part, f3.part, f3b.part, f3c.part, f3d.part, f3e.part, f3f.part, f3g.part, f3h.part, f3i.part, f3j.part])
